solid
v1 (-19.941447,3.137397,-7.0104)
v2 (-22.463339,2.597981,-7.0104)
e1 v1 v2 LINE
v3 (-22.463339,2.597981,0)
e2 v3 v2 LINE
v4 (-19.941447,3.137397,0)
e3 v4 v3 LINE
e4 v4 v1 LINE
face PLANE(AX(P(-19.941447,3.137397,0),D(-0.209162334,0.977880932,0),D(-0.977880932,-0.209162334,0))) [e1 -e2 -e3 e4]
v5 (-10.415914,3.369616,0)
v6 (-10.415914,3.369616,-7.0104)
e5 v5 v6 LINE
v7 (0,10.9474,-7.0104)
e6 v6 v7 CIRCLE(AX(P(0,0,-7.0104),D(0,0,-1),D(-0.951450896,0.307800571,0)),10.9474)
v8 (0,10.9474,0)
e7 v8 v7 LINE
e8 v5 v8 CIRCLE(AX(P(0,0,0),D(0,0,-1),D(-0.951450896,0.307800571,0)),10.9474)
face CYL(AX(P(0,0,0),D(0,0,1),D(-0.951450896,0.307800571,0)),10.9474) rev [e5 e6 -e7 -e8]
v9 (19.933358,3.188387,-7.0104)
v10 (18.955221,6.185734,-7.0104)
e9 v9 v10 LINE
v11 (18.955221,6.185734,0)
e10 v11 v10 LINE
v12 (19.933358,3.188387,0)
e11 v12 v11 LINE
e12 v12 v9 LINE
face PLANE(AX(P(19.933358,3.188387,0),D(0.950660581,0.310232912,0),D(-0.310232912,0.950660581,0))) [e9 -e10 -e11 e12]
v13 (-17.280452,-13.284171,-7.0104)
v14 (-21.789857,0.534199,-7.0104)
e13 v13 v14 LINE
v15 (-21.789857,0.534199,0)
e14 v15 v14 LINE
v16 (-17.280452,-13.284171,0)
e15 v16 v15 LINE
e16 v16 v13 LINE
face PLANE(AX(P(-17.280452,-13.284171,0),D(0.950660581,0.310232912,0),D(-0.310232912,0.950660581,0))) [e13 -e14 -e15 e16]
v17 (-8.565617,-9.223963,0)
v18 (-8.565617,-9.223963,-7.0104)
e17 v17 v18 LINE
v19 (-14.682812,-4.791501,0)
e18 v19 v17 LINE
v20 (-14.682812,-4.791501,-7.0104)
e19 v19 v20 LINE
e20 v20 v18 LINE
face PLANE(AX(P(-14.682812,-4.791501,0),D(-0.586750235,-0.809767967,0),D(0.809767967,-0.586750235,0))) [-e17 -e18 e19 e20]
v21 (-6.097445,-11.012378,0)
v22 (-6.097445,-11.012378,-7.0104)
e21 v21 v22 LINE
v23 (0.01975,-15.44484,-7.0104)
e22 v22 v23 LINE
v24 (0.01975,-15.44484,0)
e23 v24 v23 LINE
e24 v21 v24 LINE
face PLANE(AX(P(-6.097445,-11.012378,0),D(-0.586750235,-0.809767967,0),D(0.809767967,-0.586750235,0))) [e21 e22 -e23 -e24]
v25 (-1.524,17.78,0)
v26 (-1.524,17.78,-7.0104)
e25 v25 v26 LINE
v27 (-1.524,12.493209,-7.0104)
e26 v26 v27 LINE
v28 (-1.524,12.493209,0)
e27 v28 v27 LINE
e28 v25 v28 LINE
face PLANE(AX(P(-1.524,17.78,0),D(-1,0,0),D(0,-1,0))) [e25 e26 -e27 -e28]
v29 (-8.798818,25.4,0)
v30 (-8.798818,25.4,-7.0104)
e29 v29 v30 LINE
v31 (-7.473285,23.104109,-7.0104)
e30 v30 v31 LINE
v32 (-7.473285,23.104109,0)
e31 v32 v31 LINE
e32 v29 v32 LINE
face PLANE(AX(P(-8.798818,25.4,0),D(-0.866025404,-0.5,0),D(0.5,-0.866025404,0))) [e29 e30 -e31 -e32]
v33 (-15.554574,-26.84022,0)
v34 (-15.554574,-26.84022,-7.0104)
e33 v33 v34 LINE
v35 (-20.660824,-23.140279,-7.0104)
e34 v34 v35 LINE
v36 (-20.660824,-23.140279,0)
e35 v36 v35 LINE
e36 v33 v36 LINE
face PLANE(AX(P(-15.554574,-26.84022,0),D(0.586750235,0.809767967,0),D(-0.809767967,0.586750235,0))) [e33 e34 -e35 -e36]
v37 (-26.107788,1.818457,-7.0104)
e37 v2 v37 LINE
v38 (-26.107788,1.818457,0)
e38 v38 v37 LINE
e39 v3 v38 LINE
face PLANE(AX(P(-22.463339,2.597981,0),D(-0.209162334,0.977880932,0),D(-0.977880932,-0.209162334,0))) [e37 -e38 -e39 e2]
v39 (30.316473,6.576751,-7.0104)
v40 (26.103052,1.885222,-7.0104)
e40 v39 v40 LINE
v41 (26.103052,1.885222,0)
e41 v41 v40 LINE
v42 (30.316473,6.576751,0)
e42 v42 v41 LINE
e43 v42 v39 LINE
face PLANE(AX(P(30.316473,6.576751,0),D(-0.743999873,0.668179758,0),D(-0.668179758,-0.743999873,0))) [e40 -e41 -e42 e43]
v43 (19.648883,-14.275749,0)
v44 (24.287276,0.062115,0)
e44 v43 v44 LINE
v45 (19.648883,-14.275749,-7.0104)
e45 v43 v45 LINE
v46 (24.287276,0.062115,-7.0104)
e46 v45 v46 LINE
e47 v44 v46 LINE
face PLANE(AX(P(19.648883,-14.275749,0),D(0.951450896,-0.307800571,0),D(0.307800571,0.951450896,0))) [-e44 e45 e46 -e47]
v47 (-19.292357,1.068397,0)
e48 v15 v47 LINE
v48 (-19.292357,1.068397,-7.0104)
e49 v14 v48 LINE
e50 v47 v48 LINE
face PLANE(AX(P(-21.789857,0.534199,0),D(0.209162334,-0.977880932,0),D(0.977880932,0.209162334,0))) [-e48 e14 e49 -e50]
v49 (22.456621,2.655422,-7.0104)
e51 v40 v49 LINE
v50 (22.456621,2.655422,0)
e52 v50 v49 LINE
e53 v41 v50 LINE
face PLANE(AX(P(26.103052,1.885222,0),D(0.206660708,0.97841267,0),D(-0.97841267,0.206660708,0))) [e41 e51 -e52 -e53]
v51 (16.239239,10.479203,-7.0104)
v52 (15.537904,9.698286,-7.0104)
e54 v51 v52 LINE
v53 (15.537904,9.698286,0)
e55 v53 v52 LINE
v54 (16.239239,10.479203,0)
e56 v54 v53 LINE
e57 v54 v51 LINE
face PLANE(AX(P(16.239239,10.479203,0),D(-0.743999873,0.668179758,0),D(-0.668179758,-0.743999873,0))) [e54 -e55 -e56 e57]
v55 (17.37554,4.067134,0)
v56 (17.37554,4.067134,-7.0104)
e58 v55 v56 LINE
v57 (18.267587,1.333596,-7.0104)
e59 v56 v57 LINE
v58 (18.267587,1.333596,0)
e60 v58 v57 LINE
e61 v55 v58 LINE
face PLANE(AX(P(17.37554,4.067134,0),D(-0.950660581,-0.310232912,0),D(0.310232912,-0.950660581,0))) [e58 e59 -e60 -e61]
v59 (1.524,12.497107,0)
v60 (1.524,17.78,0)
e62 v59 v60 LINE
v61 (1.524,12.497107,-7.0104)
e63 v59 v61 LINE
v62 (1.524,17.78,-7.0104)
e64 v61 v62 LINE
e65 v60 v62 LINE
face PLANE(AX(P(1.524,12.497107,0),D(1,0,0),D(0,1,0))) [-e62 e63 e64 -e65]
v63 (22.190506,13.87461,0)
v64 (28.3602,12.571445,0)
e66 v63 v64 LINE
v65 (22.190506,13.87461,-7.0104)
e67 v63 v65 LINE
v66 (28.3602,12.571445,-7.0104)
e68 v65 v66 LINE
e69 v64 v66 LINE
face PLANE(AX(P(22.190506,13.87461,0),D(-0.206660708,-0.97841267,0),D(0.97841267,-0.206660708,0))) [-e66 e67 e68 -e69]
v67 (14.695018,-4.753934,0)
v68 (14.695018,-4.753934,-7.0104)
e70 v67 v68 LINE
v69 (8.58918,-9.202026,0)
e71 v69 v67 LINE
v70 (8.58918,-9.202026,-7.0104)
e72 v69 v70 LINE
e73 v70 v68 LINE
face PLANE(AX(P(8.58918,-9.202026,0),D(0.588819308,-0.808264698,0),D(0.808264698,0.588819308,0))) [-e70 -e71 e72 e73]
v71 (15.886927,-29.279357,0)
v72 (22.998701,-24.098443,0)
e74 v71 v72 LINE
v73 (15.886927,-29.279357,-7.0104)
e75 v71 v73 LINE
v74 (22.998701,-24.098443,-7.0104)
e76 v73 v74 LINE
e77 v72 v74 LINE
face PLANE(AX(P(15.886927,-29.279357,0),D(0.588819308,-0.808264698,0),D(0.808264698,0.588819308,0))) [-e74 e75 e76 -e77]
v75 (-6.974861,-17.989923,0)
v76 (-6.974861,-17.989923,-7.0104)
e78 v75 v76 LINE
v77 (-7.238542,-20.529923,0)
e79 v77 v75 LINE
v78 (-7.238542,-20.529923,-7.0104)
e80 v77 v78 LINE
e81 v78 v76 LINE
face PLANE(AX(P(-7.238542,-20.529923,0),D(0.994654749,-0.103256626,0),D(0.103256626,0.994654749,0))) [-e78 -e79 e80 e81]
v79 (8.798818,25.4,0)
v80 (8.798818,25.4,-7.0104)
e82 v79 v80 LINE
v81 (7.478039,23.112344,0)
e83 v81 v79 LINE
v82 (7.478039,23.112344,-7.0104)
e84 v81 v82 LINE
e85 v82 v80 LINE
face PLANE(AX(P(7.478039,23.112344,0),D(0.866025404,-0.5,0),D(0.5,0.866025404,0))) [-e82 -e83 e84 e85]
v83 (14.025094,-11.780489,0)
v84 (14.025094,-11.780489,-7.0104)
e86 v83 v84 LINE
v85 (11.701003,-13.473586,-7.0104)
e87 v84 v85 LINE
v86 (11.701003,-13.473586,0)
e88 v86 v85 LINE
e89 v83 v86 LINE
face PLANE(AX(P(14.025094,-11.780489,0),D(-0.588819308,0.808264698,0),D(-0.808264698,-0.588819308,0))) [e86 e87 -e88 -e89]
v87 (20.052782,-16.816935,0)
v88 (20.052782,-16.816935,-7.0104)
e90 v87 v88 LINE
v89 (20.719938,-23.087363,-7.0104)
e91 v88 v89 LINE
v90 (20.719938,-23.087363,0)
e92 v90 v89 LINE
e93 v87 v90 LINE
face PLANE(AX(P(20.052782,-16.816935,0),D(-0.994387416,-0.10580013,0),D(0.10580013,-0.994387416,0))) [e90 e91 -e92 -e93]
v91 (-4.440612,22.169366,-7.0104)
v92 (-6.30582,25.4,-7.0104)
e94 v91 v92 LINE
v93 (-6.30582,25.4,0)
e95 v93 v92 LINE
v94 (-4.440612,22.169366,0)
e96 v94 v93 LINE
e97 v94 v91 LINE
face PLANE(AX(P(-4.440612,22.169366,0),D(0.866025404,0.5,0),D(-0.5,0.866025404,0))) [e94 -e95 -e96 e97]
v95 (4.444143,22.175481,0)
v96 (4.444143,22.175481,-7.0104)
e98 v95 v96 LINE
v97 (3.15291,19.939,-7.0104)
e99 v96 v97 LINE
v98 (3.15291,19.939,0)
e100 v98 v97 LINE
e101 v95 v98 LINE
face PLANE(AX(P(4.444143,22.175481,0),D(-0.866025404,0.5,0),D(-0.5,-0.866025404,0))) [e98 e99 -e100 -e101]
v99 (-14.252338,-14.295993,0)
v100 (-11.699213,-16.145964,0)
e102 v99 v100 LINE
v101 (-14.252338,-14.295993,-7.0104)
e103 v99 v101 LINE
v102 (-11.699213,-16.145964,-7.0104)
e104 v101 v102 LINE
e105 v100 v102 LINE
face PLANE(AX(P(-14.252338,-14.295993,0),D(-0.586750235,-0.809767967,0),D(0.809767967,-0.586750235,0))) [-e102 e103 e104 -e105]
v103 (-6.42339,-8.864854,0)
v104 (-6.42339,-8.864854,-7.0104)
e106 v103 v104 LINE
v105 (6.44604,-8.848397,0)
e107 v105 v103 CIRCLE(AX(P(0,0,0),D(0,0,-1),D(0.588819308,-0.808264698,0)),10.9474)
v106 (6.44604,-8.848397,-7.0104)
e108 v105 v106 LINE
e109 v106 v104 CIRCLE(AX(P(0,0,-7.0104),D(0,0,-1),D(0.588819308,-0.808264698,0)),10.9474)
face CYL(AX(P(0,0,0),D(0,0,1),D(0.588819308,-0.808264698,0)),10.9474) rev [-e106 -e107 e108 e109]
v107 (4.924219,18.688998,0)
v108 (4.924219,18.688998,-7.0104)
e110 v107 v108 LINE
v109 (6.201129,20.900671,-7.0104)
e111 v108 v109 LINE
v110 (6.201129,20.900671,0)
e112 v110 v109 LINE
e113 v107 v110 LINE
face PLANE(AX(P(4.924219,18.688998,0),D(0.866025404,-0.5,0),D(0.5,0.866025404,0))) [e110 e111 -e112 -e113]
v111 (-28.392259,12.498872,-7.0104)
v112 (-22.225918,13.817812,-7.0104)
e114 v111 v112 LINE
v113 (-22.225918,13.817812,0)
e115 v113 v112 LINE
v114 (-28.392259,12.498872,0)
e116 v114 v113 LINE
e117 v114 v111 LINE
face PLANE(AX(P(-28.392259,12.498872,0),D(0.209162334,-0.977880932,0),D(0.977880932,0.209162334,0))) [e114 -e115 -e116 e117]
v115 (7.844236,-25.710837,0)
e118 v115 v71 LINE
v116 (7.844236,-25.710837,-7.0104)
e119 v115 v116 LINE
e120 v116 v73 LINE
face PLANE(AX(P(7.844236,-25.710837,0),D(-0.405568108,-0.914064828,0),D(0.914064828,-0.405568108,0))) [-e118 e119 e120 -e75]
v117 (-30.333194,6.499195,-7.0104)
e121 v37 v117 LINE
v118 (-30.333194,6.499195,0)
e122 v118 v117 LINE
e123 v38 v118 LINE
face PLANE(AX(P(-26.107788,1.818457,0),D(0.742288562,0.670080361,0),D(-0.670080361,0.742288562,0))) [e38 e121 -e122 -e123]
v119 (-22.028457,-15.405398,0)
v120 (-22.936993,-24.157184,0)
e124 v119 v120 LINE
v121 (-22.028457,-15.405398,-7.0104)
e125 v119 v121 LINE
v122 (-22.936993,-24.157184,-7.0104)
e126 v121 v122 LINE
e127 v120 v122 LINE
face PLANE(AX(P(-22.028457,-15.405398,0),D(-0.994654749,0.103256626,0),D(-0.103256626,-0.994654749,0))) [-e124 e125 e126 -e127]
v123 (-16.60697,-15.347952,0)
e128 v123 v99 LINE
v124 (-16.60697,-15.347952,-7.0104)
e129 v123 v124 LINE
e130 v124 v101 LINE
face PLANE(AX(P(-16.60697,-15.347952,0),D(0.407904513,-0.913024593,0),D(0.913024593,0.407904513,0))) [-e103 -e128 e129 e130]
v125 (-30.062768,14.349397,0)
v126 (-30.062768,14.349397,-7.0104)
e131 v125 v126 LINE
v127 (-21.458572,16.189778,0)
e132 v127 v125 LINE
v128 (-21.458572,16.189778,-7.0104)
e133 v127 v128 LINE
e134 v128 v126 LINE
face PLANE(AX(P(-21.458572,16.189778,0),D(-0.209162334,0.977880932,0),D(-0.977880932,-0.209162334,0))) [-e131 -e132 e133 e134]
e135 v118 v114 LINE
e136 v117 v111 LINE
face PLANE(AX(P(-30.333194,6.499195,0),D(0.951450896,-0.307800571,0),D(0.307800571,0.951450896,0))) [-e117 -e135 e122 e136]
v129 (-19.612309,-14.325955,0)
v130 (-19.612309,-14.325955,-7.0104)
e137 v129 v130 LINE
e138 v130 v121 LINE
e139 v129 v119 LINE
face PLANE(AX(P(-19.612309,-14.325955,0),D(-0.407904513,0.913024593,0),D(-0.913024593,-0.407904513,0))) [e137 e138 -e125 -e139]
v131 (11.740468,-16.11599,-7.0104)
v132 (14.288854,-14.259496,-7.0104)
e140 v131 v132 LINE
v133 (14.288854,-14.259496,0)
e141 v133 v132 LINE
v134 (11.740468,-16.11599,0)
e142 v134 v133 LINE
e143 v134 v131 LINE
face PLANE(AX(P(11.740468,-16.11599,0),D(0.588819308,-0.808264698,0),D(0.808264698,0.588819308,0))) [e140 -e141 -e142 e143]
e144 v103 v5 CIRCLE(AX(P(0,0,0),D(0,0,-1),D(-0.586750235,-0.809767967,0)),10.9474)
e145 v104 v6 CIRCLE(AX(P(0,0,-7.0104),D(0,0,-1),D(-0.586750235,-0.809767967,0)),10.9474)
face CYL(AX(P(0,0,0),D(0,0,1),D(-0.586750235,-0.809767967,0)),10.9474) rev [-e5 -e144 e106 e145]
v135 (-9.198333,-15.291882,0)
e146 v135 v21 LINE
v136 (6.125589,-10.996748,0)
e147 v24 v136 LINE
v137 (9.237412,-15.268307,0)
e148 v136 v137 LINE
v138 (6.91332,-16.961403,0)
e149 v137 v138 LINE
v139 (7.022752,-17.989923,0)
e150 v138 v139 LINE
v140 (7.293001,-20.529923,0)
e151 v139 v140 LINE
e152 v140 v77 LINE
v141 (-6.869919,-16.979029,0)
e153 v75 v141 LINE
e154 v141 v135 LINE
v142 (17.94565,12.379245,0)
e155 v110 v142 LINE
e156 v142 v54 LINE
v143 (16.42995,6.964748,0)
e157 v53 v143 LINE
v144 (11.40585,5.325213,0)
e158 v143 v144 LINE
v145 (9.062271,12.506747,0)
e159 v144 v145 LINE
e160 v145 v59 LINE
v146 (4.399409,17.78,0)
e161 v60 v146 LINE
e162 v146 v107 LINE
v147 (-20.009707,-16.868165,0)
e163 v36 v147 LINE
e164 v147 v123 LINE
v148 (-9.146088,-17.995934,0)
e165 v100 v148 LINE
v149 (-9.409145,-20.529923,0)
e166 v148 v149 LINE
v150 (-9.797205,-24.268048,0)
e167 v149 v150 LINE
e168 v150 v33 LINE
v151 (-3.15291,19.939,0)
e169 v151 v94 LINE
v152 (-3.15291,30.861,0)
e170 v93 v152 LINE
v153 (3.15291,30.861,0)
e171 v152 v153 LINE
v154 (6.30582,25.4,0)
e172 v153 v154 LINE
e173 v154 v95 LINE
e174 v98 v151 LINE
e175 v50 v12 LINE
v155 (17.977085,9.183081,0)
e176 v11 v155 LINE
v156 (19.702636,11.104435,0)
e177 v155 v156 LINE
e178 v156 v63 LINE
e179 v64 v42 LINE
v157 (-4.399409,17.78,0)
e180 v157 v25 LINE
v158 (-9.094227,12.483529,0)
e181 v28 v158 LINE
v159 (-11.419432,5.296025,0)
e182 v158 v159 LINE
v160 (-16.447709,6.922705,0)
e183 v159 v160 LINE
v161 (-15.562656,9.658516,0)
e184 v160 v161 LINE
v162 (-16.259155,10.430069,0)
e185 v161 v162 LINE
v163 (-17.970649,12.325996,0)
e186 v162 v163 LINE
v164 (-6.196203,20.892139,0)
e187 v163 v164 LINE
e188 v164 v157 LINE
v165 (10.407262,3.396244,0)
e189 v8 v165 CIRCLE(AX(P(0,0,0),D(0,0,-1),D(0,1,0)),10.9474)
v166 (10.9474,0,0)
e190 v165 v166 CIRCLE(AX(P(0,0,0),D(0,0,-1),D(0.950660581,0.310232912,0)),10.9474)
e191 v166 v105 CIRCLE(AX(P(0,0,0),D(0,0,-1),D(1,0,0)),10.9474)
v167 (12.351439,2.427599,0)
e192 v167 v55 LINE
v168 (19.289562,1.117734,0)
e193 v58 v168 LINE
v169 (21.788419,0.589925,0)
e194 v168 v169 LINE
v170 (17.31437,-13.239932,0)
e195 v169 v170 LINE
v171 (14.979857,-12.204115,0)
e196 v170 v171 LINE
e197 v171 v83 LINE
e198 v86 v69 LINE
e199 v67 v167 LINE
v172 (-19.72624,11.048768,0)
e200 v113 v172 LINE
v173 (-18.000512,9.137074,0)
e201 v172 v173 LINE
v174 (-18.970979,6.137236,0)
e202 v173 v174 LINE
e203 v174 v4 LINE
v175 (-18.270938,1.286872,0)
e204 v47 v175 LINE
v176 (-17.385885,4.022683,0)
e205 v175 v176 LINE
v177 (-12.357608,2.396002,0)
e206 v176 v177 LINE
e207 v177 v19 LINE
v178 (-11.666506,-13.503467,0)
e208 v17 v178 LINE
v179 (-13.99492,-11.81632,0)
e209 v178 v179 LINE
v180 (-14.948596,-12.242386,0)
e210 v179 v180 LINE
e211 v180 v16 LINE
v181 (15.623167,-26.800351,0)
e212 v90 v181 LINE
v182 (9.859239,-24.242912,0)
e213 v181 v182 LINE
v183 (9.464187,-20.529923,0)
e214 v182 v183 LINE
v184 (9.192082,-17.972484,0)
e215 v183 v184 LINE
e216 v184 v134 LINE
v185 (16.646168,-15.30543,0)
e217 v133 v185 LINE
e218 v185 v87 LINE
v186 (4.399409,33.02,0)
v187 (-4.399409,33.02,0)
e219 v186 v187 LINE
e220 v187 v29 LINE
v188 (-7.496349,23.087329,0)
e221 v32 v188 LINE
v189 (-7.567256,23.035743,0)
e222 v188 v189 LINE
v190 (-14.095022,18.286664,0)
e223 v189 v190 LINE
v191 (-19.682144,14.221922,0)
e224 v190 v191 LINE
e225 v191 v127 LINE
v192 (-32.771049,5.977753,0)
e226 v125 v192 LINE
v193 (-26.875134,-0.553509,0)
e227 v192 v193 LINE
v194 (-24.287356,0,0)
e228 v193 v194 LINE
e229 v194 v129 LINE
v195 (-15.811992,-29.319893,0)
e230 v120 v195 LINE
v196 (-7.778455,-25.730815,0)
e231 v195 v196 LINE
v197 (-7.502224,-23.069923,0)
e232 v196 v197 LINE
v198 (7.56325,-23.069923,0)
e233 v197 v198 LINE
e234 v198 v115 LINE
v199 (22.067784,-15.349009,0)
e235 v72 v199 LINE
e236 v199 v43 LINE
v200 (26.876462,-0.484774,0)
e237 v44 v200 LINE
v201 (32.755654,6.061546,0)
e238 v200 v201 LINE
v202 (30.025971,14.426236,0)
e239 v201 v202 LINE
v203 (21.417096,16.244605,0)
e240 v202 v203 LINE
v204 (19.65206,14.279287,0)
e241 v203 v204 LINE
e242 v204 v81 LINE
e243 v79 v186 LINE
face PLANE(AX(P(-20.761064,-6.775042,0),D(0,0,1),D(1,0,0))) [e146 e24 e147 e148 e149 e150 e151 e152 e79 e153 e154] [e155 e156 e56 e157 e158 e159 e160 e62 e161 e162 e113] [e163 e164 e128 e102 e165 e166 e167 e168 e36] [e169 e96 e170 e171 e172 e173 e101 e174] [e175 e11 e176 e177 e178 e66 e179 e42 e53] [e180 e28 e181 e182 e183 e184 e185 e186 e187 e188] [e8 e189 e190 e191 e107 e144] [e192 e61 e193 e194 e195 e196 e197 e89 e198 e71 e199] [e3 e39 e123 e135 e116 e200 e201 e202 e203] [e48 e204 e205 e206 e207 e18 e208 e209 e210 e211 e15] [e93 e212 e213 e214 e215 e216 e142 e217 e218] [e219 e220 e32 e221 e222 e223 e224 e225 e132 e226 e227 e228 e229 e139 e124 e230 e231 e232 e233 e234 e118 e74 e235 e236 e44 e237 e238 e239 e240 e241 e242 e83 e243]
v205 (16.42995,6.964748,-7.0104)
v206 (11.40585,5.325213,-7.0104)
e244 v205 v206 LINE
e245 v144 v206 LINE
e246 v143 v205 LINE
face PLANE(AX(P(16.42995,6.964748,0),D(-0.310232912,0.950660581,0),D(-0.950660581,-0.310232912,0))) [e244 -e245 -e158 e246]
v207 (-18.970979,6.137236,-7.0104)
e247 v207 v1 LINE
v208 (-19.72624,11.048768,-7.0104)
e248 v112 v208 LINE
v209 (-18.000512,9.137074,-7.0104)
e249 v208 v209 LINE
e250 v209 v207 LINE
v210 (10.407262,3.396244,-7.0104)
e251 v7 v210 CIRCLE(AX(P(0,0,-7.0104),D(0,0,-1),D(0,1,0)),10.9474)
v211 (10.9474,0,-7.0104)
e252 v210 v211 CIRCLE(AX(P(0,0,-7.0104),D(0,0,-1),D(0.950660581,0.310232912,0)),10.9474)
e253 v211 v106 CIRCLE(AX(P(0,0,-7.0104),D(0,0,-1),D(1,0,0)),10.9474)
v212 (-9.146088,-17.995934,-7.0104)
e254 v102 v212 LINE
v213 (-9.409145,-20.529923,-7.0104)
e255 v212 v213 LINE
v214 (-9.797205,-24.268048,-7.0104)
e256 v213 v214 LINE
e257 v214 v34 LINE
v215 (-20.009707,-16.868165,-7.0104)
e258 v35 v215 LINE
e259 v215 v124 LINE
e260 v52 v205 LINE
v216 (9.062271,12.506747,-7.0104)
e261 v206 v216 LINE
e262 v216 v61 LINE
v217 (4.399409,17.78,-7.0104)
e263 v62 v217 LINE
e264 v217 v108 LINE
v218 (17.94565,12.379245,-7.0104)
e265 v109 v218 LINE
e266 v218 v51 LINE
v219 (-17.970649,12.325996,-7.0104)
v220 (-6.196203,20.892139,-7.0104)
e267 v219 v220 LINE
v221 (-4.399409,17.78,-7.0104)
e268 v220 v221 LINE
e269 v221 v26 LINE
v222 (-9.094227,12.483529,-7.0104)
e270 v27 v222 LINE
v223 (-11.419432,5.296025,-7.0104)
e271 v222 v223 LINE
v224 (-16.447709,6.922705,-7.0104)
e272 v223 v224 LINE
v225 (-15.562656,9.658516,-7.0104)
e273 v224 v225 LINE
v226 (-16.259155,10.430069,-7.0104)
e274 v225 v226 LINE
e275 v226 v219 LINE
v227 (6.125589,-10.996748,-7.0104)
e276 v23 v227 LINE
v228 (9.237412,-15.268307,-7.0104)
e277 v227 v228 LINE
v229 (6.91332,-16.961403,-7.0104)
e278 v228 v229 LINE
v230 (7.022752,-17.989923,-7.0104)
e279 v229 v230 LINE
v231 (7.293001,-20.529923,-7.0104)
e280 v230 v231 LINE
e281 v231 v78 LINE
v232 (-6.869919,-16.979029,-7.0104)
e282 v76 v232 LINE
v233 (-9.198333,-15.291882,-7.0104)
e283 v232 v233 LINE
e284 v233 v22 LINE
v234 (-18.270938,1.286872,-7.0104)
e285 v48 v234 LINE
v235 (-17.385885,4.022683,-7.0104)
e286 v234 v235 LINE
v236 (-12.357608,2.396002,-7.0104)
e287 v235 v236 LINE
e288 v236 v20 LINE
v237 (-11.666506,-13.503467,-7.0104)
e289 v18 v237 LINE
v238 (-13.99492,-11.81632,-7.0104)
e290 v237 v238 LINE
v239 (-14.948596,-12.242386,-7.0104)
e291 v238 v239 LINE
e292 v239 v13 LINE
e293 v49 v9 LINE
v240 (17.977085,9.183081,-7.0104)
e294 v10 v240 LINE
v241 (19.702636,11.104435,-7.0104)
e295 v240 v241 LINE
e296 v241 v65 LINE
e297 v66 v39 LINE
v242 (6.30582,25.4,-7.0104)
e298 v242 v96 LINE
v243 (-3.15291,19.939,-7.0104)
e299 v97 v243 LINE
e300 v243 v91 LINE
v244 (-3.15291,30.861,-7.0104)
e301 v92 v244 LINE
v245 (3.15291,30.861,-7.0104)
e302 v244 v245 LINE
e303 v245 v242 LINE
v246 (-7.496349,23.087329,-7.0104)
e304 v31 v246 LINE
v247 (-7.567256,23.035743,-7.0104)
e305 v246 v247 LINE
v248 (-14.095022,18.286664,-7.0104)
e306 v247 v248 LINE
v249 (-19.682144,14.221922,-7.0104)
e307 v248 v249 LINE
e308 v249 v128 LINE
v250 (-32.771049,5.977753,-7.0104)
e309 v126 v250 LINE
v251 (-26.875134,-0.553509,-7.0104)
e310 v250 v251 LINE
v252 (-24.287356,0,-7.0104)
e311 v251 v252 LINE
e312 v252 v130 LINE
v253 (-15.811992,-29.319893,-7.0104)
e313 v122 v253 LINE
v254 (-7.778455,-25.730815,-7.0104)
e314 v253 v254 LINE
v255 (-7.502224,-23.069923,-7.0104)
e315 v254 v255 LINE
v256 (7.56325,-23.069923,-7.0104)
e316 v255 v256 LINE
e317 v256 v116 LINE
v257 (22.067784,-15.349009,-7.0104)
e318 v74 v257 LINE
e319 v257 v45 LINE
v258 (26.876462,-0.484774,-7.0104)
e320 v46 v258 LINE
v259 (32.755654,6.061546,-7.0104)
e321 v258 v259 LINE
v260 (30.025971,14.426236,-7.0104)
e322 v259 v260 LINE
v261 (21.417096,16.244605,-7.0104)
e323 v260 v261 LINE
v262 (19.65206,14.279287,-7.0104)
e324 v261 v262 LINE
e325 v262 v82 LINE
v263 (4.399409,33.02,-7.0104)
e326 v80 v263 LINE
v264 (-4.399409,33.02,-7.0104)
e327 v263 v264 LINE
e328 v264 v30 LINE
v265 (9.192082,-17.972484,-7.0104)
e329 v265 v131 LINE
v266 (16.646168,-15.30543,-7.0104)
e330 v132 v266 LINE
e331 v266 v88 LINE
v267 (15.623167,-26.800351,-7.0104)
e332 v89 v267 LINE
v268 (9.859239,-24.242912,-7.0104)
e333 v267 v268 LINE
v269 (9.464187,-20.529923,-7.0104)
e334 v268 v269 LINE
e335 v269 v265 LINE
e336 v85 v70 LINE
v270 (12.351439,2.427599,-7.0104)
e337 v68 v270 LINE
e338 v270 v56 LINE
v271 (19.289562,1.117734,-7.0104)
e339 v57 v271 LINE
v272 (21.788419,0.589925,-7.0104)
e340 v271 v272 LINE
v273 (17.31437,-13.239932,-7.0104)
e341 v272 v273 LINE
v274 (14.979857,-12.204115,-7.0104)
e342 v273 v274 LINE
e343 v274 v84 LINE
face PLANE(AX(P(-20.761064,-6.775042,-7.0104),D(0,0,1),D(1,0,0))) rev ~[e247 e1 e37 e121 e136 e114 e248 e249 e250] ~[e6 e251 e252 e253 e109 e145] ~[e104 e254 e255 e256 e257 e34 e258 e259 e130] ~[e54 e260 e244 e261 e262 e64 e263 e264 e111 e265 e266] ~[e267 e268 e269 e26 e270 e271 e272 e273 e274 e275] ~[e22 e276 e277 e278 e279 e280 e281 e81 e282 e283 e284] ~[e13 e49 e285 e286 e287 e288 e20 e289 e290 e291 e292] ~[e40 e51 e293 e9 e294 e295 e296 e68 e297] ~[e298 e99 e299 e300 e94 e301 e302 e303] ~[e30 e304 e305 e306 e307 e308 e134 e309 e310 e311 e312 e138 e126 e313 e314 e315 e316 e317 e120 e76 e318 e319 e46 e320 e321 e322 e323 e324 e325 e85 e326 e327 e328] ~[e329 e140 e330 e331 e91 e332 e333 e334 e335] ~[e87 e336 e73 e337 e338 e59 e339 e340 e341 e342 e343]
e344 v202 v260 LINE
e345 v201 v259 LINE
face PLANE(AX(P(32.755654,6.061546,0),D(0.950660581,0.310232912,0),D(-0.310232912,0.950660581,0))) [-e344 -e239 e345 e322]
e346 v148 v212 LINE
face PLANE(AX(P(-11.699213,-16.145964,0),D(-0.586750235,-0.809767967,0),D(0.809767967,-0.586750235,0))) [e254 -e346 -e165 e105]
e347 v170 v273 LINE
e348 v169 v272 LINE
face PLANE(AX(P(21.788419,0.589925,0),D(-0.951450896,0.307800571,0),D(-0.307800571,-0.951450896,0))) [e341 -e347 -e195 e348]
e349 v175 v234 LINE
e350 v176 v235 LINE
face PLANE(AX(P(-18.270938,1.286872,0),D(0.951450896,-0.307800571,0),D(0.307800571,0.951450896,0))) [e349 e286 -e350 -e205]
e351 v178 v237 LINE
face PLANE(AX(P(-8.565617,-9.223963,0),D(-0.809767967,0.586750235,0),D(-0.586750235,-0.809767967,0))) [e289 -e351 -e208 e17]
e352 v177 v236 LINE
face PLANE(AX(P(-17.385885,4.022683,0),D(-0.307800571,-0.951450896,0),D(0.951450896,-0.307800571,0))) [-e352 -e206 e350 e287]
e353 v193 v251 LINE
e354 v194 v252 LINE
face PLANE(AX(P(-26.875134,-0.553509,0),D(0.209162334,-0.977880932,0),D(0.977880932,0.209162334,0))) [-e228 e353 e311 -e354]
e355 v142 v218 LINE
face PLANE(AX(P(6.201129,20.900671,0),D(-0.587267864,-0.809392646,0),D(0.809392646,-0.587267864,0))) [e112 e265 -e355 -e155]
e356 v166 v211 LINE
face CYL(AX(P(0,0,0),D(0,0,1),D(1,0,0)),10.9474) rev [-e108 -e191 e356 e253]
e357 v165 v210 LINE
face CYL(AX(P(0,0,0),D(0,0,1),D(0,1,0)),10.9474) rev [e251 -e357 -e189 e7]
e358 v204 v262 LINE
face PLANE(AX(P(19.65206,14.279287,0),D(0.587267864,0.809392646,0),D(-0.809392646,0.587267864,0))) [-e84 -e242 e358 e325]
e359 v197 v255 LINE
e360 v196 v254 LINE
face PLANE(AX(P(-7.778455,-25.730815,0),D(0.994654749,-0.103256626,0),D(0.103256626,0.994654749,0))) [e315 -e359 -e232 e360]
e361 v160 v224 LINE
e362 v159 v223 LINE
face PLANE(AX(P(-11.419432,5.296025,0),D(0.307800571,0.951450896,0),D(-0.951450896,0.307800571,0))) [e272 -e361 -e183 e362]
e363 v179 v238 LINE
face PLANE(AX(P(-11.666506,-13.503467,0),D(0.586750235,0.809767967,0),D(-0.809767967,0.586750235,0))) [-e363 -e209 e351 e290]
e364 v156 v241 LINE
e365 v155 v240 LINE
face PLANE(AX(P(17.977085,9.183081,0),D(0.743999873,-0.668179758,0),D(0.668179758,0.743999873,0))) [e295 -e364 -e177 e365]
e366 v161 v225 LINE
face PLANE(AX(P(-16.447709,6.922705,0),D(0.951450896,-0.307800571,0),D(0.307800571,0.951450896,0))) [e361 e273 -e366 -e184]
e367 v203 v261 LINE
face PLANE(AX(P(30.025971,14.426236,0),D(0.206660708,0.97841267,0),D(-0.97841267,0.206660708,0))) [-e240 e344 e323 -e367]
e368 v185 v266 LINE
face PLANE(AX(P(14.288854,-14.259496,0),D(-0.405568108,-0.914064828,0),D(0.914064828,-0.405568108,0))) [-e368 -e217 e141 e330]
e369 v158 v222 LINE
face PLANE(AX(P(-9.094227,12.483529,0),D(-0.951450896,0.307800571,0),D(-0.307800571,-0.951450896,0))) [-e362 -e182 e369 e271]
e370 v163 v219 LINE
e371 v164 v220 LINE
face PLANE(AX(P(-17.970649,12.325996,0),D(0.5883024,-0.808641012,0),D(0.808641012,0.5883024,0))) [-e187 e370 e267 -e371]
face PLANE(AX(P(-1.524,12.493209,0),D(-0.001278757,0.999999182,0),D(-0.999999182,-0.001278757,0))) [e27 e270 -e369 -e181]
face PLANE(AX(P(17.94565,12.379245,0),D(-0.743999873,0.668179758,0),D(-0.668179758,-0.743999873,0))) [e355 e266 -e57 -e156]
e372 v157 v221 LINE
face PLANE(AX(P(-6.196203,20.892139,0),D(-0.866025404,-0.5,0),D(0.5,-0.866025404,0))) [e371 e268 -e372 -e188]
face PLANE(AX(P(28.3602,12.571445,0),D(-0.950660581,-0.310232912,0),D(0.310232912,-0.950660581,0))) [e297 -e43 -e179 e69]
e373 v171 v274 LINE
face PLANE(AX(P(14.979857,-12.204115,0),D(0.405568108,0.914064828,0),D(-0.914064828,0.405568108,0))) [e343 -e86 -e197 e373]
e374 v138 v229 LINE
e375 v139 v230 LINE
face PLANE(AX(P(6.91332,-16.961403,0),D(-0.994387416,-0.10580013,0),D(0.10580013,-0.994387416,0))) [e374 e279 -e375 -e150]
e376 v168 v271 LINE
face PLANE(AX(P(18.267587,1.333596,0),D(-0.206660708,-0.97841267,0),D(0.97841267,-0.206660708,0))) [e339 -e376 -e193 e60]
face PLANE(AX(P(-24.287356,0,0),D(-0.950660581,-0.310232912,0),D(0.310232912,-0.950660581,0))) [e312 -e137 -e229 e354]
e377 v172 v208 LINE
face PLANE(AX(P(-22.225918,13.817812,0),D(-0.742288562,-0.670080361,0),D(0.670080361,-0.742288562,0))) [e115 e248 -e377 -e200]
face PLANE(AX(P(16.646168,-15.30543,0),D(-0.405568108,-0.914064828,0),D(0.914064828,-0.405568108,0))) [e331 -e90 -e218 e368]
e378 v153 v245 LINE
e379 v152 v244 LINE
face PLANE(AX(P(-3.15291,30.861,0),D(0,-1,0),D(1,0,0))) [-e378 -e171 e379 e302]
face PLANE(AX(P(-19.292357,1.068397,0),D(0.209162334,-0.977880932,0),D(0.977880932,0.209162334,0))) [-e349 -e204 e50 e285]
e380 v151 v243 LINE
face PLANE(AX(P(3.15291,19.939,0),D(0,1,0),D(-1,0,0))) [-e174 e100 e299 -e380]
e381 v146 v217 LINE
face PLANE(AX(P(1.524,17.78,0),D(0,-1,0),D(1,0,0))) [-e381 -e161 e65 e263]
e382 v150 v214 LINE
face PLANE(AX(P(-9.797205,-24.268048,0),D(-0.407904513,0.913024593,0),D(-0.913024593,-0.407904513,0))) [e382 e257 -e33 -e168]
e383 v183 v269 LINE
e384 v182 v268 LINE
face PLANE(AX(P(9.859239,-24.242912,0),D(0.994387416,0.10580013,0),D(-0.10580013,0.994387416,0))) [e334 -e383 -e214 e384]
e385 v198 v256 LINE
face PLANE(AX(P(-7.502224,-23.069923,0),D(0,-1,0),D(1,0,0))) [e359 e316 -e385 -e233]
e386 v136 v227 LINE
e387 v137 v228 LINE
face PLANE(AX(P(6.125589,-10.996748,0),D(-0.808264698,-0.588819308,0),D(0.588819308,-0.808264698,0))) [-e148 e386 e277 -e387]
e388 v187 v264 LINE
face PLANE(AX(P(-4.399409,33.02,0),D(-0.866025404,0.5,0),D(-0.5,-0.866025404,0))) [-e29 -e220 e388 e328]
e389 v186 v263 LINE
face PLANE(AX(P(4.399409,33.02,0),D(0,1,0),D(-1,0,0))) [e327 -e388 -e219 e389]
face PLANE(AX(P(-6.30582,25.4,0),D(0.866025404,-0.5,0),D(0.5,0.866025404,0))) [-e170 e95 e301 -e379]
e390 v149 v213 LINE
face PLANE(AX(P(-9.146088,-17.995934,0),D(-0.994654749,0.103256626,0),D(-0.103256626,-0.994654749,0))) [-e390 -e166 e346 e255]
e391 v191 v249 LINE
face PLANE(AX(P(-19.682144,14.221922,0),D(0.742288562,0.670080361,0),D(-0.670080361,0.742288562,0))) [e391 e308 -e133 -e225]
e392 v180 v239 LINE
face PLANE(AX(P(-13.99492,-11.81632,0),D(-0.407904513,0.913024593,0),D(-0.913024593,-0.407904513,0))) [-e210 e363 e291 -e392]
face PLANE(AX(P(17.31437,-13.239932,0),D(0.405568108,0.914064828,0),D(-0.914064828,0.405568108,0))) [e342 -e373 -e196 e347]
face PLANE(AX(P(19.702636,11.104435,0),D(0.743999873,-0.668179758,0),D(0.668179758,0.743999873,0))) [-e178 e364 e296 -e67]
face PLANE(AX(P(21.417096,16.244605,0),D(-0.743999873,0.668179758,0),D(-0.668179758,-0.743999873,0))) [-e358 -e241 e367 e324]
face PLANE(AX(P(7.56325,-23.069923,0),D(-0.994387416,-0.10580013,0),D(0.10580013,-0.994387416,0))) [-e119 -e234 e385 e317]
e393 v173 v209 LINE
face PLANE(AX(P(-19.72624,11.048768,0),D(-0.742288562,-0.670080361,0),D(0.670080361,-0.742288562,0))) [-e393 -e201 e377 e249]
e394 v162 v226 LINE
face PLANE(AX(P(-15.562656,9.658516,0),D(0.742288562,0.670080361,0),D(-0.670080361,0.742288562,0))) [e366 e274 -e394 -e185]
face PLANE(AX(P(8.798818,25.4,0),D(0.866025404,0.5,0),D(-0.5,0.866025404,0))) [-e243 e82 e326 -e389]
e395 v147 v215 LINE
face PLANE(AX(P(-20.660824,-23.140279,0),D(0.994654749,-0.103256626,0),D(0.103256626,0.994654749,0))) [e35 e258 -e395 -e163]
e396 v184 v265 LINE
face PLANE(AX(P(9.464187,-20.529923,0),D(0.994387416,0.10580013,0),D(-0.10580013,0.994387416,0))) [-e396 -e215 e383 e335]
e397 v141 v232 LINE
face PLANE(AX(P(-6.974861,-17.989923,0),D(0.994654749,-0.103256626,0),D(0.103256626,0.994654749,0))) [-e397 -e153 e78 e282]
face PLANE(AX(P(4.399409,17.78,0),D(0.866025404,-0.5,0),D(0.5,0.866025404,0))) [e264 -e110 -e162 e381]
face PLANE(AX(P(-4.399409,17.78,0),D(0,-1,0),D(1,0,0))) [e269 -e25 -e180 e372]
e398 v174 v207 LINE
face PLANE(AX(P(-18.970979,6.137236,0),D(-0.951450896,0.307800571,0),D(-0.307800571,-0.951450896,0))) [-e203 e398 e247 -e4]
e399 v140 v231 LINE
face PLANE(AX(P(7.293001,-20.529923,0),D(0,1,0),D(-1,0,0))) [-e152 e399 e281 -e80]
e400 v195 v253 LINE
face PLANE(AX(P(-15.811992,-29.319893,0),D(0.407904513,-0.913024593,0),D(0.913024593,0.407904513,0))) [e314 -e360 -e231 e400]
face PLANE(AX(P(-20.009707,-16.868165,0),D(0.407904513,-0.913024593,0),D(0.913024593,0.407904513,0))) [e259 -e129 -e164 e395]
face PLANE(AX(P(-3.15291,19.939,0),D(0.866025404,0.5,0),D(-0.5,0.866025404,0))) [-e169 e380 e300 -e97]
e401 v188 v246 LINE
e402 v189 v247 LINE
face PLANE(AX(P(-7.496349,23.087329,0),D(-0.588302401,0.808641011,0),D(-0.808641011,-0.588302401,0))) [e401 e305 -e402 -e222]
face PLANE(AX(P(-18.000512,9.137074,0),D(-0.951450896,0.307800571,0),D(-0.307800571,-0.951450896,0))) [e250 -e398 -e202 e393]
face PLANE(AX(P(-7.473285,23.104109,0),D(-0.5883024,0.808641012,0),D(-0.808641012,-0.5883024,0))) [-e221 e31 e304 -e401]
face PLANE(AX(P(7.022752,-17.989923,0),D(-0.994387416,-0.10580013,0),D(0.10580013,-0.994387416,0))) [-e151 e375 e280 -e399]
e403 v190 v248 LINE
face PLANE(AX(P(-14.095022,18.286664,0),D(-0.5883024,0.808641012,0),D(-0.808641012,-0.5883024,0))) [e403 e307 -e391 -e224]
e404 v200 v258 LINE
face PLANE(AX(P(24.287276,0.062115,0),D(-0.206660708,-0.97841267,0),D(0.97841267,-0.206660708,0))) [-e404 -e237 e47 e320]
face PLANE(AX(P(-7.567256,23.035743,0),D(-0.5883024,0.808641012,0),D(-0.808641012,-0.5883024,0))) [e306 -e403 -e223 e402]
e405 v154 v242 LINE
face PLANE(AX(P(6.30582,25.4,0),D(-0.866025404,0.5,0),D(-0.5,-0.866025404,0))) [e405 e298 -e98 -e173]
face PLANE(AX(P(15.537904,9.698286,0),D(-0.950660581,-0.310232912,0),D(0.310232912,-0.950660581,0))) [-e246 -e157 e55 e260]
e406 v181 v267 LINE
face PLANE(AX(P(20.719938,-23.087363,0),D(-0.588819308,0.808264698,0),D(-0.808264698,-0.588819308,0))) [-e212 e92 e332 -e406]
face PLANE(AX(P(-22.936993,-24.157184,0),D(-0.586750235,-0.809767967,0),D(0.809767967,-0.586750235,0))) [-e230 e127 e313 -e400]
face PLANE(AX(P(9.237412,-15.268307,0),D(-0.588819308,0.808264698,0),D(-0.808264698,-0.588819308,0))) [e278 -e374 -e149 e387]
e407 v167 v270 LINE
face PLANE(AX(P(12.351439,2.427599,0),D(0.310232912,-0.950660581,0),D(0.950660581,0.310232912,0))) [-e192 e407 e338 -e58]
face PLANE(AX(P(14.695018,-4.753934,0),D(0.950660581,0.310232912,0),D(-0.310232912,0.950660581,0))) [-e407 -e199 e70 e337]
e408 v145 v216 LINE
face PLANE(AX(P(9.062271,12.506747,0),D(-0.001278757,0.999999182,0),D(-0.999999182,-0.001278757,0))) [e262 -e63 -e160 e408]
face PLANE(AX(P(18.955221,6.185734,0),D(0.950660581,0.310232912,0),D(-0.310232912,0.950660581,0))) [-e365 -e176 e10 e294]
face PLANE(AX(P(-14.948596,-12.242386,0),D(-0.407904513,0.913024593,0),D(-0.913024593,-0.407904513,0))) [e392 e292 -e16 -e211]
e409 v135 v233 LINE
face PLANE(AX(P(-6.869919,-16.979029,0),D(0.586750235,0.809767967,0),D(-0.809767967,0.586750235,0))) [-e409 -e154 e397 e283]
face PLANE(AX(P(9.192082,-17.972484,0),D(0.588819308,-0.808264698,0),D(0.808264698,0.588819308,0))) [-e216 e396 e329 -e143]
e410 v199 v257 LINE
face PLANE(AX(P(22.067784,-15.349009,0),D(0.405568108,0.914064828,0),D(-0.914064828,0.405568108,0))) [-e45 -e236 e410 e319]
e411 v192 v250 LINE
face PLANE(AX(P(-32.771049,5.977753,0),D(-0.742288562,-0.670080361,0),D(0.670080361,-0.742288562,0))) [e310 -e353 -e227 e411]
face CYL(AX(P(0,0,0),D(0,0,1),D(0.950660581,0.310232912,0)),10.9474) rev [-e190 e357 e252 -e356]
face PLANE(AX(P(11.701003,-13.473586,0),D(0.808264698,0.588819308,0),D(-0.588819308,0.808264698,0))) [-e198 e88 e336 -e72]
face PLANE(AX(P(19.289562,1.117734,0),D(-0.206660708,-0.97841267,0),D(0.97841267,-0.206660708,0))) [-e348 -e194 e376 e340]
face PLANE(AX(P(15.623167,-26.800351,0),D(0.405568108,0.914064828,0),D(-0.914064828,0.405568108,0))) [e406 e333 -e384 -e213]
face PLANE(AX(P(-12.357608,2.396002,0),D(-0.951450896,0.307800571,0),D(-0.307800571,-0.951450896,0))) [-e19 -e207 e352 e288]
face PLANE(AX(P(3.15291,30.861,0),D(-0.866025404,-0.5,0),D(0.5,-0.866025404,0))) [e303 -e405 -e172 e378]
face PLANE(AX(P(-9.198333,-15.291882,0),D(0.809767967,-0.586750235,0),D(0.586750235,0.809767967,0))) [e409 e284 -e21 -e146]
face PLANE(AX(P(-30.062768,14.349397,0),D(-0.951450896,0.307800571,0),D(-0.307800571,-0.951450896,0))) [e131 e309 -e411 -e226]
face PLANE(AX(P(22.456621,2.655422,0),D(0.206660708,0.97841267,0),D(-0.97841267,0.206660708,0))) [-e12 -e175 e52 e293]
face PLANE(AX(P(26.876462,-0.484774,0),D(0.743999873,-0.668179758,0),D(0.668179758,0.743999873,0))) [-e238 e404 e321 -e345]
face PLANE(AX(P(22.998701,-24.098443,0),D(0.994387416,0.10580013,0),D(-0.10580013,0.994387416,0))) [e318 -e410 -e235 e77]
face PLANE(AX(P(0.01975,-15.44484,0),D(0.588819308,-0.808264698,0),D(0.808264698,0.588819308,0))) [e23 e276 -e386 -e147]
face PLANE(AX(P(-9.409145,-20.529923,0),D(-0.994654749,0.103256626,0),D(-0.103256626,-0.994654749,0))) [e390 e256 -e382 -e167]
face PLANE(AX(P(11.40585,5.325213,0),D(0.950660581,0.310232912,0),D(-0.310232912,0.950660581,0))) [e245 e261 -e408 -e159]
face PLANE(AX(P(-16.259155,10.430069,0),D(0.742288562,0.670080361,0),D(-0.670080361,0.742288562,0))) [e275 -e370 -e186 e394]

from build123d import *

# Parameters (mm, degrees)
F1_DEPTH = 7.0104


with BuildPart() as f1:
    # F0 (on Top) → F1 (new body)
    with BuildSketch(Plane.XY):
        Polygon((-19.6123088264, -14.3259550522), (-17.2804522048, -13.2841705842), (-21.7898565446, 0.5341987249), (-24.2873556745, 0), align=None)
        Polygon((-17.9706494369, 12.3259955313), (-6.1962033311, 20.8921389834), (-7.4732849288, 23.1041091962), (-7.4963492105, 23.0873294731), (-7.5672560221, 23.035743359), (-14.0950221279, 18.286663837), (-19.682144033, 14.2219216577), align=None)
        Polygon((6.2011292189, 20.9006708714), (17.9456495392, 12.3792450933), (19.652060322, 14.2792867992), (7.4780391848, 23.112343809), align=None)
        Polygon((-7.4732849288, 23.1041091962), (-6.1962033311, 20.8921389834), (-4.4406123873, 22.1693662715), (-6.3058196401, 25.4), (-3.15290982, 30.861), (3.15290982, 30.861), (6.3058196401, 25.4), (4.4441426069, 22.1754807911), (6.2011292189, 20.9006708714), (7.4780391848, 23.112343809), (8.7988181024, 25.4), (4.3994090512, 33.02), (-4.3994090512, 33.02), (-8.7988181024, 25.4), align=None)
        Polygon((24.2872762442, 0.0621152063), (21.7884190625, 0.5899247999), (17.3143701173, -13.2399321733), (19.6488834891, -14.2757494827), align=None)
        Polygon((7.5632502618, -23.0699233381), (7.2930011362, -20.5299233381), (-7.2385424412, -20.5299233381), (-7.5022237136, -23.0699233381), align=None)
        Polygon((0, 17.78), (0, 12.4951580744), (1.524, 12.4971069019), (1.524, 17.78), align=None)
        Polygon((-21.7898565446, 0.5341987249), (-22.4633388079, 2.597980532), (-26.1077876566, 1.8184567658), (-30.3331935574, 6.4991945609), (-28.3922586688, 12.4988723099), (-22.2259178793, 13.8178122637), (-19.7262403807, 11.0487682433), (-17.9706494369, 12.3259955313), (-19.682144033, 14.2219216577), (-21.458571528, 16.1897778854), (-30.0627679784, 14.3493965545), (-32.7710492184, 5.9777531838), (-26.875134008, -0.5535088559), (-24.2873556745, 0), align=None)
        Polygon((26.1030515475, 1.8852218017), (22.4566209762, 2.6554222966), (21.7884190625, 0.5899247999), (24.2872762442, 0.0621152063), (26.8764617201, -0.484773565), (32.7556538665, 6.0615459892), (30.0259709045, 14.4262355188), (21.417095796, 16.2446054942), (19.652060322, 14.2792867992), (17.9456495392, 12.3792450933), (19.7026361512, 11.1044351735), (22.1905059686, 13.8746101275), (28.3601997963, 12.5714449785), (30.3164725858, 6.5767508156), align=None)
        Polygon((9.8592390124, -24.2429116945), (9.4641871004, -20.5299233381), (7.2930011362, -20.5299233381), (7.5632502618, -23.0699233381), (7.8442363623, -25.7108373238), (15.8869265185, -29.2793573324), (22.9987005779, -24.0984433466), (22.0677844811, -15.3490093523), (19.6488834891, -14.2757494827), (17.3143701173, -13.2399321733), (16.6461682035, -15.30542967), (20.0527818309, -16.8169349816), (20.719938367, -23.0873626775), (15.6231669577, -26.800351034), align=None)
        Polygon((-7.2385424412, -20.5299233381), (-9.4091448565, -20.5299233381), (-9.7972052281, -24.2680475327), (-15.5545736407, -26.8402198238), (-20.660824394, -23.140278665), (-20.0097067346, -16.8681652152), (-16.6069699415, -15.3479523913), (-17.2804522048, -13.2841705842), (-19.6123088264, -14.3259550522), (-22.0284570324, -15.4053977804), (-22.9369933013, -24.1571839894), (-15.8119922502, -29.319892583), (-7.7784549303, -25.7308149676), (-7.5022237136, -23.0699233381), align=None)
        Polygon((-18.9709794229, 6.1372355941), (-16.9167969376, 5.4726941603), (-16.4477088667, 6.9227053264), (-15.5626563176, 9.6585158456), (-16.2591548408, 10.4300694048), (-17.9706494369, 12.3259955313), (-19.7262403807, 11.0487682433), (-18.0005119785, 9.1370744685), align=None)
        Polygon((-17.3858850085, 4.0226829942), (-16.9167969376, 5.4726941603), (-18.9709794229, 6.1372355941), (-19.9414468672, 3.1373967196), (-22.4633388079, 2.597980532), (-21.7898565446, 0.5341987249), (-19.2923574146, 1.0683974498), (-18.2709375576, 1.286872475), align=None)
        Polygon((-11.6992129454, -16.1459635036), (-10.432419187, -14.3976744618), (-11.6665055694, -13.5034671029), (-13.9949197125, -11.816320165), (-14.9485955831, -12.2423861162), (-17.2804522048, -13.2841705842), (-16.6069699415, -15.3479523913), (-14.252338322, -14.2959929242), align=None)
        Polygon((-6.0974445658, -11.0123778434), (-7.3315309483, -10.1181704846), (-10.432419187, -14.3976744618), (-9.1983328045, -15.2918818207), align=None)
        Polygon((-10.432419187, -14.3976744618), (-7.3315309483, -10.1181704846), (-8.5656173307, -9.2239631257), (-11.6665055694, -13.5034671029), align=None)
        Polygon((-9.1983328045, -15.2918818207), (-10.432419187, -14.3976744618), (-11.6992129454, -16.1459635036), (-9.1460875687, -17.995934083), (-9.4091448565, -20.5299233381), (-7.2385424412, -20.5299233381), (-6.9748611689, -17.9899233381), (-6.8699186614, -16.9790287586), align=None)
        Polygon((11.740468181, -16.1159898204), (10.4692072952, -14.3709463366), (9.2374118949, -15.2683069619), (6.9133202655, -16.9614033295), (7.0227520107, -17.9899233381), (7.2930011362, -20.5299233381), (9.4641871004, -20.5299233381), (9.1920824764, -17.9724839986), align=None)
        Polygon((11.7010026955, -13.4735857113), (10.4692072952, -14.3709463366), (11.740468181, -16.1159898204), (14.2888538856, -14.2594956421), (16.6461682035, -15.30542967), (17.3143701173, -13.2399321733), (14.9798567454, -12.2041148639), (14.0250943249, -11.7804893438), align=None)
        Polygon((8.5891797148, -9.2020262892), (7.3573843145, -10.0993869145), (10.4692072952, -14.3709463366), (11.7010026955, -13.4735857113), align=None)
        Polygon((10.4692072952, -14.3709463366), (7.3573843145, -10.0993869145), (6.1255889142, -10.9967475398), (9.2374118949, -15.2683069619), align=None)
        with BuildLine():
            ThreePointArc((10.4072616447, 3.3962437808), (10.8115221613, 1.7194636708), (10.9474, 0))
            ThreePointArc((10.9474, 0), (9.7573805511, -4.9637779503), (6.4460404917, -8.8483969587))
            Line((6.4460404917, -8.8483969587), (7.3573843145, -10.0993869145))
            Line((7.3573843145, -10.0993869145), (8.5891797148, -9.2020262892))
            Line((8.5891797148, -9.2020262892), (14.6950184147, -4.7539343151))
            Line((14.6950184147, -4.7539343151), (12.3514394808, 2.4275993804))
            Line((12.3514394808, 2.4275993804), (11.8786445229, 3.8764061059))
            Line((11.8786445229, 3.8764061059), (10.4072616447, 3.3962437808))
        make_face()
        with BuildLine():
            Line((7.3573843145, -10.0993869145), (6.4460404917, -8.8483969587))
            ThreePointArc((6.4460404917, -8.8483969587), (0.0139990655, -10.9473910493), (-6.423389528, -8.8648538472))
            Line((-6.423389528, -8.8648538472), (-7.3315309483, -10.1181704846))
            Line((-7.3315309483, -10.1181704846), (-6.0974445658, -11.0123778434))
            Line((-6.0974445658, -11.0123778434), (0.0197502144, -15.4448395139))
            Line((0.0197502144, -15.4448395139), (6.1255889142, -10.9967475398))
            Line((6.1255889142, -10.9967475398), (7.3573843145, -10.0993869145))
        make_face()
        with BuildLine():
            Line((-7.3315309483, -10.1181704846), (-6.423389528, -8.8648538472))
            ThreePointArc((-6.423389528, -8.8648538472), (-10.4072616447, -3.3962437808), (-10.415913543, 3.3696159758))
            Line((-10.415913543, 3.3696159758), (-11.8885196301, 3.8460136511))
            Line((-11.8885196301, 3.8460136511), (-12.357607701, 2.396002485))
            Line((-12.357607701, 2.396002485), (-14.6828121109, -4.7915014552))
            Line((-14.6828121109, -4.7915014552), (-8.5656173307, -9.2239631257))
            Line((-8.5656173307, -9.2239631257), (-7.3315309483, -10.1181704846))
        make_face()
        with BuildLine():
            ThreePointArc((-10.415913543, 3.3696159758), (-6.4403816978, 8.8525166109), (0, 10.9474))
            Line((0, 10.9474), (0, 12.4951580744))
            Line((0, 12.4951580744), (-1.524, 12.493209247))
            Line((-1.524, 12.493209247), (-9.0942271493, 12.4835287574))
            Line((-9.0942271493, 12.4835287574), (-11.4194315592, 5.2960248172))
            Line((-11.4194315592, 5.2960248172), (-11.8885196301, 3.8460136511))
            Line((-11.8885196301, 3.8460136511), (-10.415913543, 3.3696159758))
        make_face()
        with BuildLine():
            ThreePointArc((0, 10.9474), (6.4290562136, 8.8607450569), (10.4072616447, 3.3962437808))
            Line((10.4072616447, 3.3962437808), (11.8786445229, 3.8764061059))
            Line((11.8786445229, 3.8764061059), (11.4058495651, 5.3252128313))
            Line((11.4058495651, 5.3252128313), (9.0622706312, 12.5067465268))
            Line((9.0622706312, 12.5067465268), (1.524, 12.4971069019))
            Line((1.524, 12.4971069019), (0, 12.4951580744))
            Line((0, 12.4951580744), (0, 10.9474))
        make_face()
        Polygon((-16.9167969376, 5.4726941603), (-11.8885196301, 3.8460136511), (-11.4194315592, 5.2960248172), (-16.4477088667, 6.9227053264), align=None)
        Polygon((-12.357607701, 2.396002485), (-11.8885196301, 3.8460136511), (-16.9167969376, 5.4726941603), (-17.3858850085, 4.0226829942), align=None)
        Polygon((11.4058495651, 5.3252128313), (11.8786445229, 3.8764061059), (16.9027451306, 5.5159411752), (16.4299501728, 6.9647479007), align=None)
        Polygon((16.9027451306, 5.5159411752), (11.8786445229, 3.8764061059), (12.3514394808, 2.4275993804), (17.3755400885, 4.0671344498), align=None)
        Polygon((16.4299501728, 6.9647479007), (16.9027451306, 5.5159411752), (18.9552213251, 6.1857340322), (17.9770849303, 9.1830811137), (19.7026361512, 11.1044351735), (17.9456495392, 12.3792450933), (16.2392387563, 10.4792033873), (15.5379036496, 9.6982859401), align=None)
        Polygon((18.9552213251, 6.1857340322), (16.9027451306, 5.5159411752), (17.3755400885, 4.0671344498), (18.2675866116, 1.3335964104), (19.2895618807, 1.1177343934), (21.7884190625, 0.5899247999), (22.4566209762, 2.6554222966), (19.9333577198, 3.1883869508), align=None)
        Polygon((-1.524, 12.493209247), (0, 12.4951580744), (0, 17.78), (-1.524, 17.78), align=None)
        Polygon((0, 19.939), (0, 17.78), (1.524, 17.78), (4.3994090512, 17.78), (4.924219253, 18.6889979337), (6.2011292189, 20.9006708714), (4.4441426069, 22.1754807911), (3.15290982, 19.939), align=None)
        Polygon((-1.524, 17.78), (0, 17.78), (0, 19.939), (-3.15290982, 19.939), (-4.4406123873, 22.1693662715), (-6.1962033311, 20.8921389834), (-4.3994090512, 17.78), align=None)
    extrude(amount=-F1_DEPTH)


solid = f1.part
